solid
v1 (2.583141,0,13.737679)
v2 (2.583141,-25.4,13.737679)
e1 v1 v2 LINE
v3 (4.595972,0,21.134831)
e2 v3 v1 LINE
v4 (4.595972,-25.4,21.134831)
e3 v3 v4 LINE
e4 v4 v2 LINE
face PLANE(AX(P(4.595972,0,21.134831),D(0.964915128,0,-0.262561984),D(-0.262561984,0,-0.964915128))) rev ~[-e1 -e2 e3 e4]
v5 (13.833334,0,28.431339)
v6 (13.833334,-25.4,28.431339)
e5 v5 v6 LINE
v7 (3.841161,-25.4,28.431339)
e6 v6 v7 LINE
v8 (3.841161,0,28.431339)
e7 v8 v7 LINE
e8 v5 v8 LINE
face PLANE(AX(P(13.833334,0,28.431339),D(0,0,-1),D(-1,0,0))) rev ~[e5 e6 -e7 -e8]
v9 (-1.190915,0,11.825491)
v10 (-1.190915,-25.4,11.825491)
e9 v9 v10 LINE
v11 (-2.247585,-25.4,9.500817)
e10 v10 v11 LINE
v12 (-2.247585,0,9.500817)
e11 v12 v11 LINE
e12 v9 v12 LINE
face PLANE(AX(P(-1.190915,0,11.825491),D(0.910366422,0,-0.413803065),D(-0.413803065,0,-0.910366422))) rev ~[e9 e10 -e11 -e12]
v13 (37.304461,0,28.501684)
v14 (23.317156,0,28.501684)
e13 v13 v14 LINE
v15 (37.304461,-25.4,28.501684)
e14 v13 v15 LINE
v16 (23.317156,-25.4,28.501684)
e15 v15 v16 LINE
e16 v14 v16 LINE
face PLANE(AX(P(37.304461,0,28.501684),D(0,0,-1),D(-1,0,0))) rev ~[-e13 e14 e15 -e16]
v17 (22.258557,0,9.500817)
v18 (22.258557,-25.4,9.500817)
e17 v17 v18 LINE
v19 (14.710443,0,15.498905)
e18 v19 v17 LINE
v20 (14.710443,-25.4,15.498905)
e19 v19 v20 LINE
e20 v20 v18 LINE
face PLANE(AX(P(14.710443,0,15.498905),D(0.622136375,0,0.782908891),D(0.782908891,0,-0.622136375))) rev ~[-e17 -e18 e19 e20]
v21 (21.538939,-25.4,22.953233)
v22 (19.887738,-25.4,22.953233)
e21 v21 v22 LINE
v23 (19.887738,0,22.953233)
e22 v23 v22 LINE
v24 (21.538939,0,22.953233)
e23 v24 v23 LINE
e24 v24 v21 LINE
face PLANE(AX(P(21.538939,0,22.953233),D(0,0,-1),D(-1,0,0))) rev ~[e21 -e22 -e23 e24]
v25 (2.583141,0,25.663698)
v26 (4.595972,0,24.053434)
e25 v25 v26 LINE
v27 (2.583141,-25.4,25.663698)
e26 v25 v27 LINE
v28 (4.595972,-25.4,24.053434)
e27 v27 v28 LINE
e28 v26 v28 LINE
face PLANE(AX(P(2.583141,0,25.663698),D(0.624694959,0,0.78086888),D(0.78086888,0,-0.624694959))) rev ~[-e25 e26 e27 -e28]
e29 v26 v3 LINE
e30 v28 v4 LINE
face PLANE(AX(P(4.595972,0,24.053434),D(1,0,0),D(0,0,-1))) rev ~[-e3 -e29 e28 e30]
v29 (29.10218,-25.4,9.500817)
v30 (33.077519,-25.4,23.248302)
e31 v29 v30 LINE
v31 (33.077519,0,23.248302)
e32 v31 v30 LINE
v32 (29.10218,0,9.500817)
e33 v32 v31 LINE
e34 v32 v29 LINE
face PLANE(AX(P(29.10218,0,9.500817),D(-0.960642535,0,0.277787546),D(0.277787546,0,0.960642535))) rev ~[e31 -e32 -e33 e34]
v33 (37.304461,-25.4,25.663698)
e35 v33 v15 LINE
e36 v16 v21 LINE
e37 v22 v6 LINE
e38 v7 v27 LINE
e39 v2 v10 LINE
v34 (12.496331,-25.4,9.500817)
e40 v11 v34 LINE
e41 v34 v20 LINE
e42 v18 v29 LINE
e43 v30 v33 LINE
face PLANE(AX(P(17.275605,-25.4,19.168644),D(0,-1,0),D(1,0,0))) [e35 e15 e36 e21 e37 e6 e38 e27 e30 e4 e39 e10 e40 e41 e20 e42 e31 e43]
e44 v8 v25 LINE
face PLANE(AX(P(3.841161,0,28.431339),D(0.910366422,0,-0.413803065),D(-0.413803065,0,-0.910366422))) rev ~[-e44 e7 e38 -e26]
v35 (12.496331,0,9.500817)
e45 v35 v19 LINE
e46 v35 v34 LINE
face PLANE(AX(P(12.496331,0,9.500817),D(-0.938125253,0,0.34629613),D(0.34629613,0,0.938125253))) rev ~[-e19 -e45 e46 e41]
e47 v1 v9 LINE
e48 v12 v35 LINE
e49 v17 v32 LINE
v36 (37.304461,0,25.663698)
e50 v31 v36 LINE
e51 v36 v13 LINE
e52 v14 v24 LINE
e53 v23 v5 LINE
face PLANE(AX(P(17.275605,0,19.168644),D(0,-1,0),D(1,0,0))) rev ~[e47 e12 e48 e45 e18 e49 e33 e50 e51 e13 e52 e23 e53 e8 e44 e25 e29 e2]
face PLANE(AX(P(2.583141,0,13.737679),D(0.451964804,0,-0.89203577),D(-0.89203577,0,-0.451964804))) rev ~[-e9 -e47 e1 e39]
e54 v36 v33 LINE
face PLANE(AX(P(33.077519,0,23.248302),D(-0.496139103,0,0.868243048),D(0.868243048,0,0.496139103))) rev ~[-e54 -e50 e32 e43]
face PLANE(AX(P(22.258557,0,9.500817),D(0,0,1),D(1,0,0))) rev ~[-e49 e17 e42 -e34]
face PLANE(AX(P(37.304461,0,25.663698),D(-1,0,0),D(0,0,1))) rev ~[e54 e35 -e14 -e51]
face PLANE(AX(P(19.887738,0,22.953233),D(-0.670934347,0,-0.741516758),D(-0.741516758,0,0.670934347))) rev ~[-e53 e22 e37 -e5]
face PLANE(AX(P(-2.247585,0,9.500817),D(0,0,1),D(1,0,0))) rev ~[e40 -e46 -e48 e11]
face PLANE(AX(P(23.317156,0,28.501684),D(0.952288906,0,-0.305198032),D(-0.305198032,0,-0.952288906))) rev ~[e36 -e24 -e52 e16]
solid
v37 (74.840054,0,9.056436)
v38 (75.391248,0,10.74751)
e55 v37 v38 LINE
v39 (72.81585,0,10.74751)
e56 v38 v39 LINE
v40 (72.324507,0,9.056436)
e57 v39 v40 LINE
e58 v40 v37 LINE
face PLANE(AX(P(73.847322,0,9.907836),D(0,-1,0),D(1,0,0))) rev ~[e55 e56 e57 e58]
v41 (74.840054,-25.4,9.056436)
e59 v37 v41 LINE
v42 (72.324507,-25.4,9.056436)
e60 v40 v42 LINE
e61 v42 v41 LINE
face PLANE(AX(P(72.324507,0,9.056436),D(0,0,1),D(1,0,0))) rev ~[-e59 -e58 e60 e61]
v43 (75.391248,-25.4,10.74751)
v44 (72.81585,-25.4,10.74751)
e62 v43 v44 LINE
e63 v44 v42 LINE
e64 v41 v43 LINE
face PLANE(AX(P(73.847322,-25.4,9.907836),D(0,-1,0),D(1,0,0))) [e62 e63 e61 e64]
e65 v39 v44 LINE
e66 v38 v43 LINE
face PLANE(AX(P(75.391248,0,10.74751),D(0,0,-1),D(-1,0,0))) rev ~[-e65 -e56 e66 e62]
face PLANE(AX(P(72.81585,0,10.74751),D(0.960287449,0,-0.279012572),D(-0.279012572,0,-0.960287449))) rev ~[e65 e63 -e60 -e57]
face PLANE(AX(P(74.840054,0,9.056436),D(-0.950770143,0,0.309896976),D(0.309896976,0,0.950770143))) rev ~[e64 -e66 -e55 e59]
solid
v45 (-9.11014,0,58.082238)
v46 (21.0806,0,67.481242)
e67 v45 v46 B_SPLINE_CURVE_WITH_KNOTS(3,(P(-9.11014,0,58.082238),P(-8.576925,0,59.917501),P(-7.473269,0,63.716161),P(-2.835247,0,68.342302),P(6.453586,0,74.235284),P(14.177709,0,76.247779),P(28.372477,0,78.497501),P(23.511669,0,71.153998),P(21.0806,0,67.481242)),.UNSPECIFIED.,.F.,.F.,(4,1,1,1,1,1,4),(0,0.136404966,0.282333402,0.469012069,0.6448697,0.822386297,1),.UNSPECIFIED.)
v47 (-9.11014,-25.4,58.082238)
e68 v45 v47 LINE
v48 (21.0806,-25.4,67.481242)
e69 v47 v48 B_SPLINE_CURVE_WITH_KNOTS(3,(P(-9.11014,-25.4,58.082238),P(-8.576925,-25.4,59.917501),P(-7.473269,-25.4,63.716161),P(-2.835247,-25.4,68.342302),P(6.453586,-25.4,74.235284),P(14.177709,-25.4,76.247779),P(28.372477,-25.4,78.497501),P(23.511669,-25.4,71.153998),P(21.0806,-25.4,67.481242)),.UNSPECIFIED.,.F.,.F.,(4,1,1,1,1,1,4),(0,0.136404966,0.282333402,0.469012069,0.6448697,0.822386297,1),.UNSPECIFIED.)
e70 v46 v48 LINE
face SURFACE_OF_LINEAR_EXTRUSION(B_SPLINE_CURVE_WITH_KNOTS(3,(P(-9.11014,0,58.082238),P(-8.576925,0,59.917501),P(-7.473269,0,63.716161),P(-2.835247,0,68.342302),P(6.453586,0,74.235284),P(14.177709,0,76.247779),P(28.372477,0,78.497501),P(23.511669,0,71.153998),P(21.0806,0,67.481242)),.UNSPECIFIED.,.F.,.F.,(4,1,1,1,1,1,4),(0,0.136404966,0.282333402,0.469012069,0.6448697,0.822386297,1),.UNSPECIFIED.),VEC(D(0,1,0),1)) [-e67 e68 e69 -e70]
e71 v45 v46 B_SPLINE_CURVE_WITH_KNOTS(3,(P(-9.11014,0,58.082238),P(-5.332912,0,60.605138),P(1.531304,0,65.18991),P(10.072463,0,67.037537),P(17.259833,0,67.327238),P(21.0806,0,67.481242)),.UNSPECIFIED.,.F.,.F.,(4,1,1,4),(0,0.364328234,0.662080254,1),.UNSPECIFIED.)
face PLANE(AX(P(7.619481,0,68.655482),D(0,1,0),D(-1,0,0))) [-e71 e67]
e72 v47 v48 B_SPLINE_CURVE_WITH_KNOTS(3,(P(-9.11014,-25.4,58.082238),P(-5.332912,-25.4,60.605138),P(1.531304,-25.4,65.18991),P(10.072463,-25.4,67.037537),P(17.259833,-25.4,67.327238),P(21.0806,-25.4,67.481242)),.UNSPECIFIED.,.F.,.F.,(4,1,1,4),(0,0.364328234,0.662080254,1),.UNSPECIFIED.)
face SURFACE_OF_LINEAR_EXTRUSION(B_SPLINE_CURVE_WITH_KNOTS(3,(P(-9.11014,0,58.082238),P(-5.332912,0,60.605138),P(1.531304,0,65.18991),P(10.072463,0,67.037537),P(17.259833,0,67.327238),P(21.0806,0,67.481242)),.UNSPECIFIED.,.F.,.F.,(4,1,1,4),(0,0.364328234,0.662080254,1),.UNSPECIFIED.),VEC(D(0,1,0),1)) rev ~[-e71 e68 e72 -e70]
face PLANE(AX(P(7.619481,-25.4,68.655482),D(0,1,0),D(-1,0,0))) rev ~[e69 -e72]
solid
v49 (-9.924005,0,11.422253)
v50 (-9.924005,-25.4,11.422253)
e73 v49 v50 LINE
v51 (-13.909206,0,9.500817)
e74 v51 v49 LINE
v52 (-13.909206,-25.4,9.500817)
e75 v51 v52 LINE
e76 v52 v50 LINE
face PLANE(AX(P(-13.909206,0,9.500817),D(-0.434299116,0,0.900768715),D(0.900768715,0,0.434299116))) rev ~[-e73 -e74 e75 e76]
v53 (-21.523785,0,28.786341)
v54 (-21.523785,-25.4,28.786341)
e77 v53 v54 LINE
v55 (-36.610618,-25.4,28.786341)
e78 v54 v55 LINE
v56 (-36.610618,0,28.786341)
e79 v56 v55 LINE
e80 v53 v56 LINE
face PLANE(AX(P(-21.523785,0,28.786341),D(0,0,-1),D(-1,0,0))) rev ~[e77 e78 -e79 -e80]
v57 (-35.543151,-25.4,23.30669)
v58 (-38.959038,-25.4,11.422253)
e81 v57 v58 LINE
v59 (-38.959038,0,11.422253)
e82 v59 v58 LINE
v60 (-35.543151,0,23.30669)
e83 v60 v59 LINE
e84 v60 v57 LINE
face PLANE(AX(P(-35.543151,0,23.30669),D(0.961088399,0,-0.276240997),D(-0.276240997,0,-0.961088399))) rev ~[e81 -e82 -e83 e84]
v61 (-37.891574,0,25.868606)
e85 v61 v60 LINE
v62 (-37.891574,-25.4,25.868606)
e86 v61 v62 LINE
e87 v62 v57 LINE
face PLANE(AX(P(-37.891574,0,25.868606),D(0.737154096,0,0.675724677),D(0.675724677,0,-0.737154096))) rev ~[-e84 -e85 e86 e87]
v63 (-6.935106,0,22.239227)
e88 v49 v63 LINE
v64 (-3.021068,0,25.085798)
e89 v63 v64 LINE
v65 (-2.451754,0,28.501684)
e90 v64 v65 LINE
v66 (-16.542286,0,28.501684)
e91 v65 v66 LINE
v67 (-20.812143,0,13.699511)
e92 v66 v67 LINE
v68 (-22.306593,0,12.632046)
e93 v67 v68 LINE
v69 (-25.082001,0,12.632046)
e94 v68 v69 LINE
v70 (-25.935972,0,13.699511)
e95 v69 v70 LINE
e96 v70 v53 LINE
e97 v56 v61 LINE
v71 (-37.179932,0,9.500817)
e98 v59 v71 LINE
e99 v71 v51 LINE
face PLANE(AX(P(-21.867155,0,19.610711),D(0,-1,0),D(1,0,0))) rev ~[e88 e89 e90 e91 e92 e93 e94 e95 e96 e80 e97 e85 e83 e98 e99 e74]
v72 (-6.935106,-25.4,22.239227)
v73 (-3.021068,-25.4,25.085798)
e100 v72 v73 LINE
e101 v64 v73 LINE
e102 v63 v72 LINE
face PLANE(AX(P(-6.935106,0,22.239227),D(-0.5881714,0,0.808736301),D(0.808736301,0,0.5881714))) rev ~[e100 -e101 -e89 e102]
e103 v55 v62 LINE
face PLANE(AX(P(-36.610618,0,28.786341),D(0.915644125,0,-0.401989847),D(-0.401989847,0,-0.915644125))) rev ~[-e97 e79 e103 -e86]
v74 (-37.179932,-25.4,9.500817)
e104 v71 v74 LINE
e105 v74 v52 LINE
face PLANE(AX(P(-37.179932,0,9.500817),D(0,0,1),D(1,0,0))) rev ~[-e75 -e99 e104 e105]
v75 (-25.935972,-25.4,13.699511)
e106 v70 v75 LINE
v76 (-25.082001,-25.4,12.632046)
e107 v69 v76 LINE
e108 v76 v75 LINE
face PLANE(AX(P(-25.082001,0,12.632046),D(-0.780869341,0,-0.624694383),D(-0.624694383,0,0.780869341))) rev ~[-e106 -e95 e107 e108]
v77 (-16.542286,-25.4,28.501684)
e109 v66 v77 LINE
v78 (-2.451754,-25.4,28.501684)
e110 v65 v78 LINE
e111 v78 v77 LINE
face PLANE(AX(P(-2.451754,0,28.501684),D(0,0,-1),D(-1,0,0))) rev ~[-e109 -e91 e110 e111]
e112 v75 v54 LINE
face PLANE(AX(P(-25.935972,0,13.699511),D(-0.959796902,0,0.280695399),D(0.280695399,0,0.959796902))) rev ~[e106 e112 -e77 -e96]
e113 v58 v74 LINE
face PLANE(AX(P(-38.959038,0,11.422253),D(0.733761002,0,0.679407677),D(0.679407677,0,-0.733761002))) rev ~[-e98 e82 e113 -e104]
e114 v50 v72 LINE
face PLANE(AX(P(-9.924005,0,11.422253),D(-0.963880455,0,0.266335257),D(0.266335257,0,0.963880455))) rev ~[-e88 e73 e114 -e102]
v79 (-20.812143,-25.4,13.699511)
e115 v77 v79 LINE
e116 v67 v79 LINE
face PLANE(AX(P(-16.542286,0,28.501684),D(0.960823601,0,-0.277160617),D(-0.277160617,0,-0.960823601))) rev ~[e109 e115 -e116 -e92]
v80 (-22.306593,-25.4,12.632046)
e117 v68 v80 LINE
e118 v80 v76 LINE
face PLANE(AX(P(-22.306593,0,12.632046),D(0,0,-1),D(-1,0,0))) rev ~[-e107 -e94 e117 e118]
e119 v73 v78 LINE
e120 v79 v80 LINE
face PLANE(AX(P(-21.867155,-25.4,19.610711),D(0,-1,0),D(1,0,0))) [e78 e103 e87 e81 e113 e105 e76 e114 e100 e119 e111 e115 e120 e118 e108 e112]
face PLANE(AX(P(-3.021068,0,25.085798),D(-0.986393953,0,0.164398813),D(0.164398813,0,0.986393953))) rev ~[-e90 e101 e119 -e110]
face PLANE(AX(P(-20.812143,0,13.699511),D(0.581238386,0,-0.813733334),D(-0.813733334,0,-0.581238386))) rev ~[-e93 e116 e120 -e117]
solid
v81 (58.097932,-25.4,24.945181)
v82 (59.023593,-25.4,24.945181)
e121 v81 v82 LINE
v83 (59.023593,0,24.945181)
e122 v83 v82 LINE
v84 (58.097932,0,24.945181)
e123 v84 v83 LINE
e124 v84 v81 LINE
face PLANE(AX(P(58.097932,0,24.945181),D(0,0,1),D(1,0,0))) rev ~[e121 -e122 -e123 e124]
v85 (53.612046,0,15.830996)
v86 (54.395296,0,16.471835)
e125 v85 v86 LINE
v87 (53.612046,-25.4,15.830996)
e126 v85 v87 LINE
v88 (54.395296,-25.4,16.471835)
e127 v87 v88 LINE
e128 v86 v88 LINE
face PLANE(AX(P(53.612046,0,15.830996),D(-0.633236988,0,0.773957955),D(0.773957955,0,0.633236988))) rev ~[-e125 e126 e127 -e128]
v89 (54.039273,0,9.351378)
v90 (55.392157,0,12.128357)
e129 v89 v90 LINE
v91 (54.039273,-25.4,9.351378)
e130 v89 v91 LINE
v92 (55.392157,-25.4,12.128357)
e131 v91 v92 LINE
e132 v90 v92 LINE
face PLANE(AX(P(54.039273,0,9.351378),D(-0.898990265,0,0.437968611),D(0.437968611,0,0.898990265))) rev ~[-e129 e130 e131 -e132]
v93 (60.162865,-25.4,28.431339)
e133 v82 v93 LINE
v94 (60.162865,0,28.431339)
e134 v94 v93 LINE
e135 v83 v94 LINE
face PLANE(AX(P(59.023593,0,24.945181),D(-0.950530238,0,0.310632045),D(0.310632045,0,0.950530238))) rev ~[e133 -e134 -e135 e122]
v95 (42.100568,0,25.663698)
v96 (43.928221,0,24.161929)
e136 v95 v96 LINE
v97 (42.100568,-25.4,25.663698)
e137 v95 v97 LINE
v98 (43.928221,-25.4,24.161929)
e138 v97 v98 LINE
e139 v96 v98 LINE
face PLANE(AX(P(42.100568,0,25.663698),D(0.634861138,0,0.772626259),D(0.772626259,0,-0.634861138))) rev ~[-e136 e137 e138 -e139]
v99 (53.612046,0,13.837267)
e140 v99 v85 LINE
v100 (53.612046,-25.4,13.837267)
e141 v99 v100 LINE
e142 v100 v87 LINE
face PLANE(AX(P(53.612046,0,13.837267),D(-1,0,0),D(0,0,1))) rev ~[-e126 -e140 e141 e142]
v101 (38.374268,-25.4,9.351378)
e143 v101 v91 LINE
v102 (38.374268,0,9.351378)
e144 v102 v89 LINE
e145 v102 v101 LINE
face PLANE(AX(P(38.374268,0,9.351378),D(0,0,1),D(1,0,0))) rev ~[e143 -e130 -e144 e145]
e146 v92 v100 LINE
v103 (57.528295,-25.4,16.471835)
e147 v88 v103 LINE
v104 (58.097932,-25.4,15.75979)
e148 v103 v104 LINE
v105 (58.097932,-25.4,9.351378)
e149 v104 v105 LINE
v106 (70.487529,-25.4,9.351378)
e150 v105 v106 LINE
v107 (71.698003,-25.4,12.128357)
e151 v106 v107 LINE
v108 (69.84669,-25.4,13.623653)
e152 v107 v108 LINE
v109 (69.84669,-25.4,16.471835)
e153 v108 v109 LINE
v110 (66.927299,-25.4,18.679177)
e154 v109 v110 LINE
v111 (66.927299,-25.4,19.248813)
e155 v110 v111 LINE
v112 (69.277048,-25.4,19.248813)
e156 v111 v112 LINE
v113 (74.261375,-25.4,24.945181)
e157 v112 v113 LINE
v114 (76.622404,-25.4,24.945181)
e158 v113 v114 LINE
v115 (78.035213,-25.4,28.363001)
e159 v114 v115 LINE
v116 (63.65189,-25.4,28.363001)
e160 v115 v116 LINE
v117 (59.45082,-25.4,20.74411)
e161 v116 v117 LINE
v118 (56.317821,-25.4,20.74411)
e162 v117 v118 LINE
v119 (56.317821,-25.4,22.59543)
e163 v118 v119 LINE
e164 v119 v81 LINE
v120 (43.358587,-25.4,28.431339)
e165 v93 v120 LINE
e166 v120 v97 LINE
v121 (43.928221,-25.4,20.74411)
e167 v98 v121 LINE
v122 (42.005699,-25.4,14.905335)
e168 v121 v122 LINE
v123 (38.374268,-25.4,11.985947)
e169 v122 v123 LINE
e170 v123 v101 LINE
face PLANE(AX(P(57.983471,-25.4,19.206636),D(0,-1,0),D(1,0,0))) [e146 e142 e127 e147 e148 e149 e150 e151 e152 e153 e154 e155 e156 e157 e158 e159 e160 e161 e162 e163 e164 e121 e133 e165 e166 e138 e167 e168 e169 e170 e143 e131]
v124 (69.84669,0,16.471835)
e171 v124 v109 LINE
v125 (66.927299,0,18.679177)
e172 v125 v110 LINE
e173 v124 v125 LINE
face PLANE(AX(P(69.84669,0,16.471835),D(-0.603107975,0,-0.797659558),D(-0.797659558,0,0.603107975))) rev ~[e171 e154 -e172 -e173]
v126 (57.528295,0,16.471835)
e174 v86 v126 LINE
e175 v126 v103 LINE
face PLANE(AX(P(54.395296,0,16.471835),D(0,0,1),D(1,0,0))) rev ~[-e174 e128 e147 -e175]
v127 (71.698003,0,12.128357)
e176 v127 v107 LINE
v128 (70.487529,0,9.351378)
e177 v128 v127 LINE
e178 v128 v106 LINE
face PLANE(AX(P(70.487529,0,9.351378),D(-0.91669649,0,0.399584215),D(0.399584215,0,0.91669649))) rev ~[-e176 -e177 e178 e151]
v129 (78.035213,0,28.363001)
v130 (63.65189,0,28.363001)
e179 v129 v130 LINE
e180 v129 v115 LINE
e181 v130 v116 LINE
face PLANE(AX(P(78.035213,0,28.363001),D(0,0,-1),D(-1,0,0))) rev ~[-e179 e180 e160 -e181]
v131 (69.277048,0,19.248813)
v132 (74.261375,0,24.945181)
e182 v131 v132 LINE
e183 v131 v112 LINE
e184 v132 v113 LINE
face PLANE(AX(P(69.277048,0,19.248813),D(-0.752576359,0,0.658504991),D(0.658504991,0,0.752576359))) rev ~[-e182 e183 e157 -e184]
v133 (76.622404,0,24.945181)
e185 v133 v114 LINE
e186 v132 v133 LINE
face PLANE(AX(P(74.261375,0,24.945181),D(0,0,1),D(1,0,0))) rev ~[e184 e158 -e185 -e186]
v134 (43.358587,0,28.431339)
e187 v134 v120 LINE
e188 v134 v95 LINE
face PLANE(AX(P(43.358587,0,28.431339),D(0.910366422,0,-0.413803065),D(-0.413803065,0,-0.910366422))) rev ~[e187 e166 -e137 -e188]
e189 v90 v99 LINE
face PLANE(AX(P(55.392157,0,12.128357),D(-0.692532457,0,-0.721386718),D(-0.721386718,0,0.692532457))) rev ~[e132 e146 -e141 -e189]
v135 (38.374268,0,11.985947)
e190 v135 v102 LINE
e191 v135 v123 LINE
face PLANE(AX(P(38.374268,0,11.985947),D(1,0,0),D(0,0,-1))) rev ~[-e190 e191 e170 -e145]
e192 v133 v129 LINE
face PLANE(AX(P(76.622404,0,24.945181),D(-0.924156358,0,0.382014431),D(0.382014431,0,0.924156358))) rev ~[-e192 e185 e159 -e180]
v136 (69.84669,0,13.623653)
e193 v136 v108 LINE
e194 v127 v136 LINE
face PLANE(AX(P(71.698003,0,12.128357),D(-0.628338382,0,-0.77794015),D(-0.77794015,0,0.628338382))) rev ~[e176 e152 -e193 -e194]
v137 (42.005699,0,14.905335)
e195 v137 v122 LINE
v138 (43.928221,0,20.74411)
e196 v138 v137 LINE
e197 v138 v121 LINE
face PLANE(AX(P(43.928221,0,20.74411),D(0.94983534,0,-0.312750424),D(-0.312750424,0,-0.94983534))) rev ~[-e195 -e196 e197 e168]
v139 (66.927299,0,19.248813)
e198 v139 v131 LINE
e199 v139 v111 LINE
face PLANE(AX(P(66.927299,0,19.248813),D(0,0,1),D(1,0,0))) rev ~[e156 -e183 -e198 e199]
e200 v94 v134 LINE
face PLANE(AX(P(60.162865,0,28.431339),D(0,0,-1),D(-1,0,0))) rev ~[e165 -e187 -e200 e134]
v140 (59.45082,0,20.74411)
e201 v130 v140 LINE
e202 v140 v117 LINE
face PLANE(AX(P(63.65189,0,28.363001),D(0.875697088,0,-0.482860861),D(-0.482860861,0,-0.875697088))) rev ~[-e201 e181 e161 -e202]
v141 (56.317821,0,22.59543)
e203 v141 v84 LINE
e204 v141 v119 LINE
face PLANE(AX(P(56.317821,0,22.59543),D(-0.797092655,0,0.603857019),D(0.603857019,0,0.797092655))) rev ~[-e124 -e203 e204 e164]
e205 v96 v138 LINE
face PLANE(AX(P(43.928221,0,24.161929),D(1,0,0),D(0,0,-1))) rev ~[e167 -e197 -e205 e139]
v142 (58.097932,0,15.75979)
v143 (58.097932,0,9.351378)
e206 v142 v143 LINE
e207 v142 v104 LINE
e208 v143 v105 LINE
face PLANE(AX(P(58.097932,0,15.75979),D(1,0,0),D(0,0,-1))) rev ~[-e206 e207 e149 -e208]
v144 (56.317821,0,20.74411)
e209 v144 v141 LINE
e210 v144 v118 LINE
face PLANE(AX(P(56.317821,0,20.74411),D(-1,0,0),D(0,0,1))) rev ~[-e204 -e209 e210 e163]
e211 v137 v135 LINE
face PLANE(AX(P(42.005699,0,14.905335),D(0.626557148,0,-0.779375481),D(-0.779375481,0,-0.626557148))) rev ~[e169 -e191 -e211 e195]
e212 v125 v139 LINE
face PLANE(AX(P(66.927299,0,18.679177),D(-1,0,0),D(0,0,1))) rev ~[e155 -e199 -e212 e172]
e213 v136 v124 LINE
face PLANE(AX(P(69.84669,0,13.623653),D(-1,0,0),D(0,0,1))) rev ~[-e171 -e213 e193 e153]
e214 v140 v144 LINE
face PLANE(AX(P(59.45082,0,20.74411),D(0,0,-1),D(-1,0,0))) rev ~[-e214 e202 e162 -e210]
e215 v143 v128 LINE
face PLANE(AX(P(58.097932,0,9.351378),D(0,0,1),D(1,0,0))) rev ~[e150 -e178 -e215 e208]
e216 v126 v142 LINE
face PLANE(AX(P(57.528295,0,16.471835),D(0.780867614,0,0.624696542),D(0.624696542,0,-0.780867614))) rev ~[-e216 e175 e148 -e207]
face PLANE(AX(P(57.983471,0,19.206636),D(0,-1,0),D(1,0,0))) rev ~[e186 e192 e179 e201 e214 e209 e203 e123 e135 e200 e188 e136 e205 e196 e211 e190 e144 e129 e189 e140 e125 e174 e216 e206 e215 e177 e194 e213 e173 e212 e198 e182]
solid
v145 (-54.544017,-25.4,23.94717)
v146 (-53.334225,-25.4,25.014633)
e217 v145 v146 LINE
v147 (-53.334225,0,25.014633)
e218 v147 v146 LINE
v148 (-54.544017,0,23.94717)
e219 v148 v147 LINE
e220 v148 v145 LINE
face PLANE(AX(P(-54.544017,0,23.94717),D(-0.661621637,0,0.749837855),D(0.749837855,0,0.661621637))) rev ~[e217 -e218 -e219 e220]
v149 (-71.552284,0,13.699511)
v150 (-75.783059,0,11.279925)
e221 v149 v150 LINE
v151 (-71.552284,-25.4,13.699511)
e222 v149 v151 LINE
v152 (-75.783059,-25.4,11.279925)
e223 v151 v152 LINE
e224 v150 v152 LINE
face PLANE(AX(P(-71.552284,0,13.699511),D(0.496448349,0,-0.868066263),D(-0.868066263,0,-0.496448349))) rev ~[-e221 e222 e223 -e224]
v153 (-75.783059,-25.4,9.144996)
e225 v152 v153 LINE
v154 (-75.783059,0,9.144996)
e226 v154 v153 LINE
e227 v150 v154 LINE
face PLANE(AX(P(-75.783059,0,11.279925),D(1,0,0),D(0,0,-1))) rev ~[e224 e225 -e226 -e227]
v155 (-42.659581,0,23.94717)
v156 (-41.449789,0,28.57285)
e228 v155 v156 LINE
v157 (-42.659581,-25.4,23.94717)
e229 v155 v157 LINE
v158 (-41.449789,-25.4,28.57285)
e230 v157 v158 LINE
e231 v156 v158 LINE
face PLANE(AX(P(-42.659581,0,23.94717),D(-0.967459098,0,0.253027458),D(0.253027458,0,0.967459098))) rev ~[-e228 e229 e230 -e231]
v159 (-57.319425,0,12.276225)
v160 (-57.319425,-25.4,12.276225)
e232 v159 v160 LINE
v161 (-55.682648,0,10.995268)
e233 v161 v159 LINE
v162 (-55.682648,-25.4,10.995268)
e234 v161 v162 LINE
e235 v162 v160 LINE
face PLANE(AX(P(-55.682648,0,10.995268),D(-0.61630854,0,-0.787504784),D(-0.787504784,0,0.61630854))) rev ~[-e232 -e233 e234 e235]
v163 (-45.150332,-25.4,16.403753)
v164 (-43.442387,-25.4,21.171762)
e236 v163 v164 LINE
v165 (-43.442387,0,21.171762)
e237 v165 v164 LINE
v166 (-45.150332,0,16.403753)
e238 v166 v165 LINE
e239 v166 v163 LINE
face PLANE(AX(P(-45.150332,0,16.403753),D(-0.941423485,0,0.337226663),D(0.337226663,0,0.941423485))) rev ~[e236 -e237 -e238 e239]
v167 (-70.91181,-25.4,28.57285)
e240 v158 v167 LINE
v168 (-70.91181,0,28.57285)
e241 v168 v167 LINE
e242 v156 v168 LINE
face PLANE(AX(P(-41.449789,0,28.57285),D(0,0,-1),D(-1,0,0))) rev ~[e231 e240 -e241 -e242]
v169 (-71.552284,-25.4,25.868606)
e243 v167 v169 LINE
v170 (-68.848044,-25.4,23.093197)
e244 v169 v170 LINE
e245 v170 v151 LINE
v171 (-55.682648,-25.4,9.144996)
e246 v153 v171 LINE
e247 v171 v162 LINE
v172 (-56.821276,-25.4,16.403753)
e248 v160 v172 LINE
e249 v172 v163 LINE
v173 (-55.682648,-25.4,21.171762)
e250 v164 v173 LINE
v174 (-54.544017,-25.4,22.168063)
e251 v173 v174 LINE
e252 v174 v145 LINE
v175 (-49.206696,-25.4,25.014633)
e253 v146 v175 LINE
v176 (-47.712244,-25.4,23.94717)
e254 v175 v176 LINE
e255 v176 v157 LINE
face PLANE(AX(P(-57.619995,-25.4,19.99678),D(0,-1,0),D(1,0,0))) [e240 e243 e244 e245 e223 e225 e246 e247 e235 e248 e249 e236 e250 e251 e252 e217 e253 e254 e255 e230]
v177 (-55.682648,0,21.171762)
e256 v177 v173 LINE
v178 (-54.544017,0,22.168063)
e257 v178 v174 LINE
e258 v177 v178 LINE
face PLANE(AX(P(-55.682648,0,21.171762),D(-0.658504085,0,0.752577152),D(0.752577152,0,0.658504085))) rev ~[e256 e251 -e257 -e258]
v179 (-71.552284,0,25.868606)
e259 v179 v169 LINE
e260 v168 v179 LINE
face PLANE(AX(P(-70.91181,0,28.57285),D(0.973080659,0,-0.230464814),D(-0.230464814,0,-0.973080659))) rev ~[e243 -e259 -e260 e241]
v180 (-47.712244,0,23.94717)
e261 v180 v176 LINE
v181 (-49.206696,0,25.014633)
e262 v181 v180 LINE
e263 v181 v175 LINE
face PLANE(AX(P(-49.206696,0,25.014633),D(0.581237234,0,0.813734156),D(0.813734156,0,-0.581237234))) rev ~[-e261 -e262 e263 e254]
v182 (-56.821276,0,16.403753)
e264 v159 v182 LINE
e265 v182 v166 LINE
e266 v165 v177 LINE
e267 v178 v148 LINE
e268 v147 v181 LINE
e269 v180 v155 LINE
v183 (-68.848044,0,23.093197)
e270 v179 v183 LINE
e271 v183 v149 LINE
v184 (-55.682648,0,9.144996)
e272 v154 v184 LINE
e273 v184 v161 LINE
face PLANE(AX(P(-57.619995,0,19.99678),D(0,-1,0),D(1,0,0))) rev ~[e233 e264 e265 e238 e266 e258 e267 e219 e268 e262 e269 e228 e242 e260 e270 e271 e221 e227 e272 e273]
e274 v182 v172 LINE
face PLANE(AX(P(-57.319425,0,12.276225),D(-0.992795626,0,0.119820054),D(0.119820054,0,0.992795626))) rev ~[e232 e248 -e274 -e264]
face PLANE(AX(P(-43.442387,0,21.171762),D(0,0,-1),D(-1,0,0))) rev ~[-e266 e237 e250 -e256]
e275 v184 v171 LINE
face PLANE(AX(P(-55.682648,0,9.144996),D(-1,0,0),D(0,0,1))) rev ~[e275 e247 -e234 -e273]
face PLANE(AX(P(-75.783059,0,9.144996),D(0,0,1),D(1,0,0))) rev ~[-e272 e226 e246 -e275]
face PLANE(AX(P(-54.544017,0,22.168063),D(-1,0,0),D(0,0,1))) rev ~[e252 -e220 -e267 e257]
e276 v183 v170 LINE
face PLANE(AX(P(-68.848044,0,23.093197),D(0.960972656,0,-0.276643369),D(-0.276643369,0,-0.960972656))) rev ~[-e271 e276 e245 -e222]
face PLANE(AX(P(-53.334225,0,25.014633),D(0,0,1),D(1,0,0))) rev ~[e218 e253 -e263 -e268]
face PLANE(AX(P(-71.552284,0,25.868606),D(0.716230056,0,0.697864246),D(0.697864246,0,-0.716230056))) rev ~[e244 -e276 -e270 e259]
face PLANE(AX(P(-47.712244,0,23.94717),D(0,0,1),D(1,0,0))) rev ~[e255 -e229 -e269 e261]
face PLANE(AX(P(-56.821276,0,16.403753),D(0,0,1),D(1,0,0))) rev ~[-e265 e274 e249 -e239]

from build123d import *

# Parameters (mm, degrees)
F1_DEPTH = 25.4


with BuildPart() as f1:
    # F0 (on Front) → F1 (new body)
    with BuildSketch(Plane.XZ):
        Polygon((-41.4497889578, 28.5728499293), (-70.9118098021, 28.5728499293), (-71.5522840619, 25.8686058223), (-68.8480436802, 23.0931974947), (-71.5522840619, 13.6995110661), (-75.783059001, 11.2799247727), (-75.783059001, 9.1449962929), (-55.6826479733, 9.1449962929), (-55.6826479733, 10.9952678904), (-57.3194250464, 12.276224792), (-56.8212755024, 16.4037533104), (-45.1503321528, 16.4037533104), (-43.4423871338, 21.1717616767), (-55.6826479733, 21.1717616767), (-54.5440167189, 22.1680626273), (-54.5440167189, 23.9471700042), (-53.3342249691, 25.0146333128), (-49.2066964507, 25.0146333128), (-47.7122440934, 23.9471700042), (-42.6595807076, 23.9471700042), align=None)
    extrude(amount=F1_DEPTH)


with BuildPart() as f1b:
    # F0 (on Front) → F1, piece 2 (new body)
    with BuildSketch(Plane.XZ):
        Polygon((-21.5237848461, 28.7863407284), (-36.6106182337, 28.7863407284), (-37.891574204, 25.8686058223), (-35.5431511998, 23.3066901565), (-38.9590375125, 11.4222532138), (-37.1799319983, 9.5008173957), (-13.9092057943, 9.5008173957), (-9.9240047857, 11.4222532138), (-6.9351056591, 22.2392268479), (-3.0210679397, 25.0857975334), (-2.4517541751, 28.5016838461), (-16.5422856808, 28.5016838461), (-20.8121426404, 13.6995110661), (-22.306593135, 12.6320458949), (-25.0820014626, 12.6320458949), (-25.9359721094, 13.6995110661), align=None)
    extrude(amount=F1_DEPTH)


with BuildPart() as f1c:
    # F0 (on Front) → F1, piece 3 (new body)
    with BuildSketch(Plane.XZ):
        Polygon((13.8333337381, 28.4313391894), (3.8411605638, 28.4313391894), (2.5831414387, 25.6636980921), (4.5959721319, 24.05343391), (4.5959721319, 21.1348310113), (2.5831414387, 13.7376794592), (-1.1909151217, 11.8254907429), (-2.2475851983, 9.5008173957), (12.4963307753, 9.5008173957), (14.7104430944, 15.4989054427), (22.2585573792, 9.5008173957), (29.1021801531, 9.5008173957), (33.077519387, 23.248301819), (37.3044610023, 25.6636980921), (37.3044610023, 28.5016838461), (23.3171563596, 28.5016838461), (21.538939327, 22.9532327503), (19.8877379298, 22.9532327503), align=None)
    extrude(amount=F1_DEPTH)


with BuildPart() as f1d:
    # F0 (on Front) → F1, piece 4 (new body)
    with BuildSketch(Plane.XZ):
        Polygon((60.1628646255, 28.4313391894), (43.3585867286, 28.4313391894), (42.1005676035, 25.6636980921), (43.9282208681, 24.1619292647), (43.9282208681, 20.7441095263), (42.0056991279, 14.9053353816), (38.3742675185, 11.985947378), (38.3742675185, 9.3513783067), (54.039273411, 9.3513783067), (55.3921572864, 12.1283568442), (53.6120459437, 13.8372667134), (53.6120459437, 14.9765396491), (53.6120459437, 15.830995515), (54.3952956796, 16.4718348533), (57.5282946229, 16.4718348533), (58.0979324877, 15.7597903162), (58.0979324877, 9.3513783067), (70.4875290394, 9.3513783067), (71.6980025172, 12.1283568442), (69.8466897011, 13.6236529797), (69.8466897011, 16.4718348533), (66.9272989035, 18.6791773885), (66.9272989035, 19.2488133907), (69.277048111, 19.2488133907), (74.2613747716, 24.9451808631), (76.6224040091, 24.9451808631), (78.0352130532, 28.3630006015), (63.6518895626, 28.3630006015), (59.4508200884, 20.7441095263), (56.3178211451, 20.7441095263), (56.3178211451, 22.595429793), (58.0979324877, 24.9451808631), (59.0235926211, 24.9451808631), align=None)
    extrude(amount=F1_DEPTH)


with BuildPart() as f1e:
    # F0 (on Front) → F1, piece 5 (new body)
    with BuildSketch(Plane.XZ):
        with BuildLine():
            add(Edge.make_bspline(
                [(-9.1101396829, 58.0822378397), (-8.5769252352, 59.9175009422), (-7.473268579, 63.716160839), (-2.835246629, 68.3423020327), (6.453585838, 74.2352841812), (14.1777091225, 76.247779232), (28.3724768602, 78.4975007774), (23.5116687235, 71.1539976627), (21.0806000978, 67.4812421203)],
                knots=[0, 0, 0, 0, 0.1364049663, 0.2823334021, 0.4690120692, 0.6448696999, 0.8223862974, 1, 1, 1, 1], degree=3))
            add(Edge.make_bspline(
                [(-9.1101396829, 58.0822378397), (-5.332912296, 60.6051376981), (1.5313036285, 65.1899104984), (10.0724630023, 67.0375369348), (17.259832511, 67.3272383705), (21.0806000978, 67.4812421203)],
                knots=[0, 0, 0, 0, 0.3643282344, 0.6620802541, 1, 1, 1, 1], degree=3))
        make_face()
    extrude(amount=F1_DEPTH)


with BuildPart() as f1f:
    # F0 (on Front) → F1, piece 6 (new body)
    with BuildSketch(Plane.XZ):
        Polygon((75.3912478685, 10.7475100085), (72.8158503771, 10.7475100085), (72.3245069385, 9.0564358979), (74.840053916, 9.0564358979), align=None)
    extrude(amount=F1_DEPTH)


solid = Compound([f1.part, f1b.part, f1c.part, f1d.part, f1e.part, f1f.part])
